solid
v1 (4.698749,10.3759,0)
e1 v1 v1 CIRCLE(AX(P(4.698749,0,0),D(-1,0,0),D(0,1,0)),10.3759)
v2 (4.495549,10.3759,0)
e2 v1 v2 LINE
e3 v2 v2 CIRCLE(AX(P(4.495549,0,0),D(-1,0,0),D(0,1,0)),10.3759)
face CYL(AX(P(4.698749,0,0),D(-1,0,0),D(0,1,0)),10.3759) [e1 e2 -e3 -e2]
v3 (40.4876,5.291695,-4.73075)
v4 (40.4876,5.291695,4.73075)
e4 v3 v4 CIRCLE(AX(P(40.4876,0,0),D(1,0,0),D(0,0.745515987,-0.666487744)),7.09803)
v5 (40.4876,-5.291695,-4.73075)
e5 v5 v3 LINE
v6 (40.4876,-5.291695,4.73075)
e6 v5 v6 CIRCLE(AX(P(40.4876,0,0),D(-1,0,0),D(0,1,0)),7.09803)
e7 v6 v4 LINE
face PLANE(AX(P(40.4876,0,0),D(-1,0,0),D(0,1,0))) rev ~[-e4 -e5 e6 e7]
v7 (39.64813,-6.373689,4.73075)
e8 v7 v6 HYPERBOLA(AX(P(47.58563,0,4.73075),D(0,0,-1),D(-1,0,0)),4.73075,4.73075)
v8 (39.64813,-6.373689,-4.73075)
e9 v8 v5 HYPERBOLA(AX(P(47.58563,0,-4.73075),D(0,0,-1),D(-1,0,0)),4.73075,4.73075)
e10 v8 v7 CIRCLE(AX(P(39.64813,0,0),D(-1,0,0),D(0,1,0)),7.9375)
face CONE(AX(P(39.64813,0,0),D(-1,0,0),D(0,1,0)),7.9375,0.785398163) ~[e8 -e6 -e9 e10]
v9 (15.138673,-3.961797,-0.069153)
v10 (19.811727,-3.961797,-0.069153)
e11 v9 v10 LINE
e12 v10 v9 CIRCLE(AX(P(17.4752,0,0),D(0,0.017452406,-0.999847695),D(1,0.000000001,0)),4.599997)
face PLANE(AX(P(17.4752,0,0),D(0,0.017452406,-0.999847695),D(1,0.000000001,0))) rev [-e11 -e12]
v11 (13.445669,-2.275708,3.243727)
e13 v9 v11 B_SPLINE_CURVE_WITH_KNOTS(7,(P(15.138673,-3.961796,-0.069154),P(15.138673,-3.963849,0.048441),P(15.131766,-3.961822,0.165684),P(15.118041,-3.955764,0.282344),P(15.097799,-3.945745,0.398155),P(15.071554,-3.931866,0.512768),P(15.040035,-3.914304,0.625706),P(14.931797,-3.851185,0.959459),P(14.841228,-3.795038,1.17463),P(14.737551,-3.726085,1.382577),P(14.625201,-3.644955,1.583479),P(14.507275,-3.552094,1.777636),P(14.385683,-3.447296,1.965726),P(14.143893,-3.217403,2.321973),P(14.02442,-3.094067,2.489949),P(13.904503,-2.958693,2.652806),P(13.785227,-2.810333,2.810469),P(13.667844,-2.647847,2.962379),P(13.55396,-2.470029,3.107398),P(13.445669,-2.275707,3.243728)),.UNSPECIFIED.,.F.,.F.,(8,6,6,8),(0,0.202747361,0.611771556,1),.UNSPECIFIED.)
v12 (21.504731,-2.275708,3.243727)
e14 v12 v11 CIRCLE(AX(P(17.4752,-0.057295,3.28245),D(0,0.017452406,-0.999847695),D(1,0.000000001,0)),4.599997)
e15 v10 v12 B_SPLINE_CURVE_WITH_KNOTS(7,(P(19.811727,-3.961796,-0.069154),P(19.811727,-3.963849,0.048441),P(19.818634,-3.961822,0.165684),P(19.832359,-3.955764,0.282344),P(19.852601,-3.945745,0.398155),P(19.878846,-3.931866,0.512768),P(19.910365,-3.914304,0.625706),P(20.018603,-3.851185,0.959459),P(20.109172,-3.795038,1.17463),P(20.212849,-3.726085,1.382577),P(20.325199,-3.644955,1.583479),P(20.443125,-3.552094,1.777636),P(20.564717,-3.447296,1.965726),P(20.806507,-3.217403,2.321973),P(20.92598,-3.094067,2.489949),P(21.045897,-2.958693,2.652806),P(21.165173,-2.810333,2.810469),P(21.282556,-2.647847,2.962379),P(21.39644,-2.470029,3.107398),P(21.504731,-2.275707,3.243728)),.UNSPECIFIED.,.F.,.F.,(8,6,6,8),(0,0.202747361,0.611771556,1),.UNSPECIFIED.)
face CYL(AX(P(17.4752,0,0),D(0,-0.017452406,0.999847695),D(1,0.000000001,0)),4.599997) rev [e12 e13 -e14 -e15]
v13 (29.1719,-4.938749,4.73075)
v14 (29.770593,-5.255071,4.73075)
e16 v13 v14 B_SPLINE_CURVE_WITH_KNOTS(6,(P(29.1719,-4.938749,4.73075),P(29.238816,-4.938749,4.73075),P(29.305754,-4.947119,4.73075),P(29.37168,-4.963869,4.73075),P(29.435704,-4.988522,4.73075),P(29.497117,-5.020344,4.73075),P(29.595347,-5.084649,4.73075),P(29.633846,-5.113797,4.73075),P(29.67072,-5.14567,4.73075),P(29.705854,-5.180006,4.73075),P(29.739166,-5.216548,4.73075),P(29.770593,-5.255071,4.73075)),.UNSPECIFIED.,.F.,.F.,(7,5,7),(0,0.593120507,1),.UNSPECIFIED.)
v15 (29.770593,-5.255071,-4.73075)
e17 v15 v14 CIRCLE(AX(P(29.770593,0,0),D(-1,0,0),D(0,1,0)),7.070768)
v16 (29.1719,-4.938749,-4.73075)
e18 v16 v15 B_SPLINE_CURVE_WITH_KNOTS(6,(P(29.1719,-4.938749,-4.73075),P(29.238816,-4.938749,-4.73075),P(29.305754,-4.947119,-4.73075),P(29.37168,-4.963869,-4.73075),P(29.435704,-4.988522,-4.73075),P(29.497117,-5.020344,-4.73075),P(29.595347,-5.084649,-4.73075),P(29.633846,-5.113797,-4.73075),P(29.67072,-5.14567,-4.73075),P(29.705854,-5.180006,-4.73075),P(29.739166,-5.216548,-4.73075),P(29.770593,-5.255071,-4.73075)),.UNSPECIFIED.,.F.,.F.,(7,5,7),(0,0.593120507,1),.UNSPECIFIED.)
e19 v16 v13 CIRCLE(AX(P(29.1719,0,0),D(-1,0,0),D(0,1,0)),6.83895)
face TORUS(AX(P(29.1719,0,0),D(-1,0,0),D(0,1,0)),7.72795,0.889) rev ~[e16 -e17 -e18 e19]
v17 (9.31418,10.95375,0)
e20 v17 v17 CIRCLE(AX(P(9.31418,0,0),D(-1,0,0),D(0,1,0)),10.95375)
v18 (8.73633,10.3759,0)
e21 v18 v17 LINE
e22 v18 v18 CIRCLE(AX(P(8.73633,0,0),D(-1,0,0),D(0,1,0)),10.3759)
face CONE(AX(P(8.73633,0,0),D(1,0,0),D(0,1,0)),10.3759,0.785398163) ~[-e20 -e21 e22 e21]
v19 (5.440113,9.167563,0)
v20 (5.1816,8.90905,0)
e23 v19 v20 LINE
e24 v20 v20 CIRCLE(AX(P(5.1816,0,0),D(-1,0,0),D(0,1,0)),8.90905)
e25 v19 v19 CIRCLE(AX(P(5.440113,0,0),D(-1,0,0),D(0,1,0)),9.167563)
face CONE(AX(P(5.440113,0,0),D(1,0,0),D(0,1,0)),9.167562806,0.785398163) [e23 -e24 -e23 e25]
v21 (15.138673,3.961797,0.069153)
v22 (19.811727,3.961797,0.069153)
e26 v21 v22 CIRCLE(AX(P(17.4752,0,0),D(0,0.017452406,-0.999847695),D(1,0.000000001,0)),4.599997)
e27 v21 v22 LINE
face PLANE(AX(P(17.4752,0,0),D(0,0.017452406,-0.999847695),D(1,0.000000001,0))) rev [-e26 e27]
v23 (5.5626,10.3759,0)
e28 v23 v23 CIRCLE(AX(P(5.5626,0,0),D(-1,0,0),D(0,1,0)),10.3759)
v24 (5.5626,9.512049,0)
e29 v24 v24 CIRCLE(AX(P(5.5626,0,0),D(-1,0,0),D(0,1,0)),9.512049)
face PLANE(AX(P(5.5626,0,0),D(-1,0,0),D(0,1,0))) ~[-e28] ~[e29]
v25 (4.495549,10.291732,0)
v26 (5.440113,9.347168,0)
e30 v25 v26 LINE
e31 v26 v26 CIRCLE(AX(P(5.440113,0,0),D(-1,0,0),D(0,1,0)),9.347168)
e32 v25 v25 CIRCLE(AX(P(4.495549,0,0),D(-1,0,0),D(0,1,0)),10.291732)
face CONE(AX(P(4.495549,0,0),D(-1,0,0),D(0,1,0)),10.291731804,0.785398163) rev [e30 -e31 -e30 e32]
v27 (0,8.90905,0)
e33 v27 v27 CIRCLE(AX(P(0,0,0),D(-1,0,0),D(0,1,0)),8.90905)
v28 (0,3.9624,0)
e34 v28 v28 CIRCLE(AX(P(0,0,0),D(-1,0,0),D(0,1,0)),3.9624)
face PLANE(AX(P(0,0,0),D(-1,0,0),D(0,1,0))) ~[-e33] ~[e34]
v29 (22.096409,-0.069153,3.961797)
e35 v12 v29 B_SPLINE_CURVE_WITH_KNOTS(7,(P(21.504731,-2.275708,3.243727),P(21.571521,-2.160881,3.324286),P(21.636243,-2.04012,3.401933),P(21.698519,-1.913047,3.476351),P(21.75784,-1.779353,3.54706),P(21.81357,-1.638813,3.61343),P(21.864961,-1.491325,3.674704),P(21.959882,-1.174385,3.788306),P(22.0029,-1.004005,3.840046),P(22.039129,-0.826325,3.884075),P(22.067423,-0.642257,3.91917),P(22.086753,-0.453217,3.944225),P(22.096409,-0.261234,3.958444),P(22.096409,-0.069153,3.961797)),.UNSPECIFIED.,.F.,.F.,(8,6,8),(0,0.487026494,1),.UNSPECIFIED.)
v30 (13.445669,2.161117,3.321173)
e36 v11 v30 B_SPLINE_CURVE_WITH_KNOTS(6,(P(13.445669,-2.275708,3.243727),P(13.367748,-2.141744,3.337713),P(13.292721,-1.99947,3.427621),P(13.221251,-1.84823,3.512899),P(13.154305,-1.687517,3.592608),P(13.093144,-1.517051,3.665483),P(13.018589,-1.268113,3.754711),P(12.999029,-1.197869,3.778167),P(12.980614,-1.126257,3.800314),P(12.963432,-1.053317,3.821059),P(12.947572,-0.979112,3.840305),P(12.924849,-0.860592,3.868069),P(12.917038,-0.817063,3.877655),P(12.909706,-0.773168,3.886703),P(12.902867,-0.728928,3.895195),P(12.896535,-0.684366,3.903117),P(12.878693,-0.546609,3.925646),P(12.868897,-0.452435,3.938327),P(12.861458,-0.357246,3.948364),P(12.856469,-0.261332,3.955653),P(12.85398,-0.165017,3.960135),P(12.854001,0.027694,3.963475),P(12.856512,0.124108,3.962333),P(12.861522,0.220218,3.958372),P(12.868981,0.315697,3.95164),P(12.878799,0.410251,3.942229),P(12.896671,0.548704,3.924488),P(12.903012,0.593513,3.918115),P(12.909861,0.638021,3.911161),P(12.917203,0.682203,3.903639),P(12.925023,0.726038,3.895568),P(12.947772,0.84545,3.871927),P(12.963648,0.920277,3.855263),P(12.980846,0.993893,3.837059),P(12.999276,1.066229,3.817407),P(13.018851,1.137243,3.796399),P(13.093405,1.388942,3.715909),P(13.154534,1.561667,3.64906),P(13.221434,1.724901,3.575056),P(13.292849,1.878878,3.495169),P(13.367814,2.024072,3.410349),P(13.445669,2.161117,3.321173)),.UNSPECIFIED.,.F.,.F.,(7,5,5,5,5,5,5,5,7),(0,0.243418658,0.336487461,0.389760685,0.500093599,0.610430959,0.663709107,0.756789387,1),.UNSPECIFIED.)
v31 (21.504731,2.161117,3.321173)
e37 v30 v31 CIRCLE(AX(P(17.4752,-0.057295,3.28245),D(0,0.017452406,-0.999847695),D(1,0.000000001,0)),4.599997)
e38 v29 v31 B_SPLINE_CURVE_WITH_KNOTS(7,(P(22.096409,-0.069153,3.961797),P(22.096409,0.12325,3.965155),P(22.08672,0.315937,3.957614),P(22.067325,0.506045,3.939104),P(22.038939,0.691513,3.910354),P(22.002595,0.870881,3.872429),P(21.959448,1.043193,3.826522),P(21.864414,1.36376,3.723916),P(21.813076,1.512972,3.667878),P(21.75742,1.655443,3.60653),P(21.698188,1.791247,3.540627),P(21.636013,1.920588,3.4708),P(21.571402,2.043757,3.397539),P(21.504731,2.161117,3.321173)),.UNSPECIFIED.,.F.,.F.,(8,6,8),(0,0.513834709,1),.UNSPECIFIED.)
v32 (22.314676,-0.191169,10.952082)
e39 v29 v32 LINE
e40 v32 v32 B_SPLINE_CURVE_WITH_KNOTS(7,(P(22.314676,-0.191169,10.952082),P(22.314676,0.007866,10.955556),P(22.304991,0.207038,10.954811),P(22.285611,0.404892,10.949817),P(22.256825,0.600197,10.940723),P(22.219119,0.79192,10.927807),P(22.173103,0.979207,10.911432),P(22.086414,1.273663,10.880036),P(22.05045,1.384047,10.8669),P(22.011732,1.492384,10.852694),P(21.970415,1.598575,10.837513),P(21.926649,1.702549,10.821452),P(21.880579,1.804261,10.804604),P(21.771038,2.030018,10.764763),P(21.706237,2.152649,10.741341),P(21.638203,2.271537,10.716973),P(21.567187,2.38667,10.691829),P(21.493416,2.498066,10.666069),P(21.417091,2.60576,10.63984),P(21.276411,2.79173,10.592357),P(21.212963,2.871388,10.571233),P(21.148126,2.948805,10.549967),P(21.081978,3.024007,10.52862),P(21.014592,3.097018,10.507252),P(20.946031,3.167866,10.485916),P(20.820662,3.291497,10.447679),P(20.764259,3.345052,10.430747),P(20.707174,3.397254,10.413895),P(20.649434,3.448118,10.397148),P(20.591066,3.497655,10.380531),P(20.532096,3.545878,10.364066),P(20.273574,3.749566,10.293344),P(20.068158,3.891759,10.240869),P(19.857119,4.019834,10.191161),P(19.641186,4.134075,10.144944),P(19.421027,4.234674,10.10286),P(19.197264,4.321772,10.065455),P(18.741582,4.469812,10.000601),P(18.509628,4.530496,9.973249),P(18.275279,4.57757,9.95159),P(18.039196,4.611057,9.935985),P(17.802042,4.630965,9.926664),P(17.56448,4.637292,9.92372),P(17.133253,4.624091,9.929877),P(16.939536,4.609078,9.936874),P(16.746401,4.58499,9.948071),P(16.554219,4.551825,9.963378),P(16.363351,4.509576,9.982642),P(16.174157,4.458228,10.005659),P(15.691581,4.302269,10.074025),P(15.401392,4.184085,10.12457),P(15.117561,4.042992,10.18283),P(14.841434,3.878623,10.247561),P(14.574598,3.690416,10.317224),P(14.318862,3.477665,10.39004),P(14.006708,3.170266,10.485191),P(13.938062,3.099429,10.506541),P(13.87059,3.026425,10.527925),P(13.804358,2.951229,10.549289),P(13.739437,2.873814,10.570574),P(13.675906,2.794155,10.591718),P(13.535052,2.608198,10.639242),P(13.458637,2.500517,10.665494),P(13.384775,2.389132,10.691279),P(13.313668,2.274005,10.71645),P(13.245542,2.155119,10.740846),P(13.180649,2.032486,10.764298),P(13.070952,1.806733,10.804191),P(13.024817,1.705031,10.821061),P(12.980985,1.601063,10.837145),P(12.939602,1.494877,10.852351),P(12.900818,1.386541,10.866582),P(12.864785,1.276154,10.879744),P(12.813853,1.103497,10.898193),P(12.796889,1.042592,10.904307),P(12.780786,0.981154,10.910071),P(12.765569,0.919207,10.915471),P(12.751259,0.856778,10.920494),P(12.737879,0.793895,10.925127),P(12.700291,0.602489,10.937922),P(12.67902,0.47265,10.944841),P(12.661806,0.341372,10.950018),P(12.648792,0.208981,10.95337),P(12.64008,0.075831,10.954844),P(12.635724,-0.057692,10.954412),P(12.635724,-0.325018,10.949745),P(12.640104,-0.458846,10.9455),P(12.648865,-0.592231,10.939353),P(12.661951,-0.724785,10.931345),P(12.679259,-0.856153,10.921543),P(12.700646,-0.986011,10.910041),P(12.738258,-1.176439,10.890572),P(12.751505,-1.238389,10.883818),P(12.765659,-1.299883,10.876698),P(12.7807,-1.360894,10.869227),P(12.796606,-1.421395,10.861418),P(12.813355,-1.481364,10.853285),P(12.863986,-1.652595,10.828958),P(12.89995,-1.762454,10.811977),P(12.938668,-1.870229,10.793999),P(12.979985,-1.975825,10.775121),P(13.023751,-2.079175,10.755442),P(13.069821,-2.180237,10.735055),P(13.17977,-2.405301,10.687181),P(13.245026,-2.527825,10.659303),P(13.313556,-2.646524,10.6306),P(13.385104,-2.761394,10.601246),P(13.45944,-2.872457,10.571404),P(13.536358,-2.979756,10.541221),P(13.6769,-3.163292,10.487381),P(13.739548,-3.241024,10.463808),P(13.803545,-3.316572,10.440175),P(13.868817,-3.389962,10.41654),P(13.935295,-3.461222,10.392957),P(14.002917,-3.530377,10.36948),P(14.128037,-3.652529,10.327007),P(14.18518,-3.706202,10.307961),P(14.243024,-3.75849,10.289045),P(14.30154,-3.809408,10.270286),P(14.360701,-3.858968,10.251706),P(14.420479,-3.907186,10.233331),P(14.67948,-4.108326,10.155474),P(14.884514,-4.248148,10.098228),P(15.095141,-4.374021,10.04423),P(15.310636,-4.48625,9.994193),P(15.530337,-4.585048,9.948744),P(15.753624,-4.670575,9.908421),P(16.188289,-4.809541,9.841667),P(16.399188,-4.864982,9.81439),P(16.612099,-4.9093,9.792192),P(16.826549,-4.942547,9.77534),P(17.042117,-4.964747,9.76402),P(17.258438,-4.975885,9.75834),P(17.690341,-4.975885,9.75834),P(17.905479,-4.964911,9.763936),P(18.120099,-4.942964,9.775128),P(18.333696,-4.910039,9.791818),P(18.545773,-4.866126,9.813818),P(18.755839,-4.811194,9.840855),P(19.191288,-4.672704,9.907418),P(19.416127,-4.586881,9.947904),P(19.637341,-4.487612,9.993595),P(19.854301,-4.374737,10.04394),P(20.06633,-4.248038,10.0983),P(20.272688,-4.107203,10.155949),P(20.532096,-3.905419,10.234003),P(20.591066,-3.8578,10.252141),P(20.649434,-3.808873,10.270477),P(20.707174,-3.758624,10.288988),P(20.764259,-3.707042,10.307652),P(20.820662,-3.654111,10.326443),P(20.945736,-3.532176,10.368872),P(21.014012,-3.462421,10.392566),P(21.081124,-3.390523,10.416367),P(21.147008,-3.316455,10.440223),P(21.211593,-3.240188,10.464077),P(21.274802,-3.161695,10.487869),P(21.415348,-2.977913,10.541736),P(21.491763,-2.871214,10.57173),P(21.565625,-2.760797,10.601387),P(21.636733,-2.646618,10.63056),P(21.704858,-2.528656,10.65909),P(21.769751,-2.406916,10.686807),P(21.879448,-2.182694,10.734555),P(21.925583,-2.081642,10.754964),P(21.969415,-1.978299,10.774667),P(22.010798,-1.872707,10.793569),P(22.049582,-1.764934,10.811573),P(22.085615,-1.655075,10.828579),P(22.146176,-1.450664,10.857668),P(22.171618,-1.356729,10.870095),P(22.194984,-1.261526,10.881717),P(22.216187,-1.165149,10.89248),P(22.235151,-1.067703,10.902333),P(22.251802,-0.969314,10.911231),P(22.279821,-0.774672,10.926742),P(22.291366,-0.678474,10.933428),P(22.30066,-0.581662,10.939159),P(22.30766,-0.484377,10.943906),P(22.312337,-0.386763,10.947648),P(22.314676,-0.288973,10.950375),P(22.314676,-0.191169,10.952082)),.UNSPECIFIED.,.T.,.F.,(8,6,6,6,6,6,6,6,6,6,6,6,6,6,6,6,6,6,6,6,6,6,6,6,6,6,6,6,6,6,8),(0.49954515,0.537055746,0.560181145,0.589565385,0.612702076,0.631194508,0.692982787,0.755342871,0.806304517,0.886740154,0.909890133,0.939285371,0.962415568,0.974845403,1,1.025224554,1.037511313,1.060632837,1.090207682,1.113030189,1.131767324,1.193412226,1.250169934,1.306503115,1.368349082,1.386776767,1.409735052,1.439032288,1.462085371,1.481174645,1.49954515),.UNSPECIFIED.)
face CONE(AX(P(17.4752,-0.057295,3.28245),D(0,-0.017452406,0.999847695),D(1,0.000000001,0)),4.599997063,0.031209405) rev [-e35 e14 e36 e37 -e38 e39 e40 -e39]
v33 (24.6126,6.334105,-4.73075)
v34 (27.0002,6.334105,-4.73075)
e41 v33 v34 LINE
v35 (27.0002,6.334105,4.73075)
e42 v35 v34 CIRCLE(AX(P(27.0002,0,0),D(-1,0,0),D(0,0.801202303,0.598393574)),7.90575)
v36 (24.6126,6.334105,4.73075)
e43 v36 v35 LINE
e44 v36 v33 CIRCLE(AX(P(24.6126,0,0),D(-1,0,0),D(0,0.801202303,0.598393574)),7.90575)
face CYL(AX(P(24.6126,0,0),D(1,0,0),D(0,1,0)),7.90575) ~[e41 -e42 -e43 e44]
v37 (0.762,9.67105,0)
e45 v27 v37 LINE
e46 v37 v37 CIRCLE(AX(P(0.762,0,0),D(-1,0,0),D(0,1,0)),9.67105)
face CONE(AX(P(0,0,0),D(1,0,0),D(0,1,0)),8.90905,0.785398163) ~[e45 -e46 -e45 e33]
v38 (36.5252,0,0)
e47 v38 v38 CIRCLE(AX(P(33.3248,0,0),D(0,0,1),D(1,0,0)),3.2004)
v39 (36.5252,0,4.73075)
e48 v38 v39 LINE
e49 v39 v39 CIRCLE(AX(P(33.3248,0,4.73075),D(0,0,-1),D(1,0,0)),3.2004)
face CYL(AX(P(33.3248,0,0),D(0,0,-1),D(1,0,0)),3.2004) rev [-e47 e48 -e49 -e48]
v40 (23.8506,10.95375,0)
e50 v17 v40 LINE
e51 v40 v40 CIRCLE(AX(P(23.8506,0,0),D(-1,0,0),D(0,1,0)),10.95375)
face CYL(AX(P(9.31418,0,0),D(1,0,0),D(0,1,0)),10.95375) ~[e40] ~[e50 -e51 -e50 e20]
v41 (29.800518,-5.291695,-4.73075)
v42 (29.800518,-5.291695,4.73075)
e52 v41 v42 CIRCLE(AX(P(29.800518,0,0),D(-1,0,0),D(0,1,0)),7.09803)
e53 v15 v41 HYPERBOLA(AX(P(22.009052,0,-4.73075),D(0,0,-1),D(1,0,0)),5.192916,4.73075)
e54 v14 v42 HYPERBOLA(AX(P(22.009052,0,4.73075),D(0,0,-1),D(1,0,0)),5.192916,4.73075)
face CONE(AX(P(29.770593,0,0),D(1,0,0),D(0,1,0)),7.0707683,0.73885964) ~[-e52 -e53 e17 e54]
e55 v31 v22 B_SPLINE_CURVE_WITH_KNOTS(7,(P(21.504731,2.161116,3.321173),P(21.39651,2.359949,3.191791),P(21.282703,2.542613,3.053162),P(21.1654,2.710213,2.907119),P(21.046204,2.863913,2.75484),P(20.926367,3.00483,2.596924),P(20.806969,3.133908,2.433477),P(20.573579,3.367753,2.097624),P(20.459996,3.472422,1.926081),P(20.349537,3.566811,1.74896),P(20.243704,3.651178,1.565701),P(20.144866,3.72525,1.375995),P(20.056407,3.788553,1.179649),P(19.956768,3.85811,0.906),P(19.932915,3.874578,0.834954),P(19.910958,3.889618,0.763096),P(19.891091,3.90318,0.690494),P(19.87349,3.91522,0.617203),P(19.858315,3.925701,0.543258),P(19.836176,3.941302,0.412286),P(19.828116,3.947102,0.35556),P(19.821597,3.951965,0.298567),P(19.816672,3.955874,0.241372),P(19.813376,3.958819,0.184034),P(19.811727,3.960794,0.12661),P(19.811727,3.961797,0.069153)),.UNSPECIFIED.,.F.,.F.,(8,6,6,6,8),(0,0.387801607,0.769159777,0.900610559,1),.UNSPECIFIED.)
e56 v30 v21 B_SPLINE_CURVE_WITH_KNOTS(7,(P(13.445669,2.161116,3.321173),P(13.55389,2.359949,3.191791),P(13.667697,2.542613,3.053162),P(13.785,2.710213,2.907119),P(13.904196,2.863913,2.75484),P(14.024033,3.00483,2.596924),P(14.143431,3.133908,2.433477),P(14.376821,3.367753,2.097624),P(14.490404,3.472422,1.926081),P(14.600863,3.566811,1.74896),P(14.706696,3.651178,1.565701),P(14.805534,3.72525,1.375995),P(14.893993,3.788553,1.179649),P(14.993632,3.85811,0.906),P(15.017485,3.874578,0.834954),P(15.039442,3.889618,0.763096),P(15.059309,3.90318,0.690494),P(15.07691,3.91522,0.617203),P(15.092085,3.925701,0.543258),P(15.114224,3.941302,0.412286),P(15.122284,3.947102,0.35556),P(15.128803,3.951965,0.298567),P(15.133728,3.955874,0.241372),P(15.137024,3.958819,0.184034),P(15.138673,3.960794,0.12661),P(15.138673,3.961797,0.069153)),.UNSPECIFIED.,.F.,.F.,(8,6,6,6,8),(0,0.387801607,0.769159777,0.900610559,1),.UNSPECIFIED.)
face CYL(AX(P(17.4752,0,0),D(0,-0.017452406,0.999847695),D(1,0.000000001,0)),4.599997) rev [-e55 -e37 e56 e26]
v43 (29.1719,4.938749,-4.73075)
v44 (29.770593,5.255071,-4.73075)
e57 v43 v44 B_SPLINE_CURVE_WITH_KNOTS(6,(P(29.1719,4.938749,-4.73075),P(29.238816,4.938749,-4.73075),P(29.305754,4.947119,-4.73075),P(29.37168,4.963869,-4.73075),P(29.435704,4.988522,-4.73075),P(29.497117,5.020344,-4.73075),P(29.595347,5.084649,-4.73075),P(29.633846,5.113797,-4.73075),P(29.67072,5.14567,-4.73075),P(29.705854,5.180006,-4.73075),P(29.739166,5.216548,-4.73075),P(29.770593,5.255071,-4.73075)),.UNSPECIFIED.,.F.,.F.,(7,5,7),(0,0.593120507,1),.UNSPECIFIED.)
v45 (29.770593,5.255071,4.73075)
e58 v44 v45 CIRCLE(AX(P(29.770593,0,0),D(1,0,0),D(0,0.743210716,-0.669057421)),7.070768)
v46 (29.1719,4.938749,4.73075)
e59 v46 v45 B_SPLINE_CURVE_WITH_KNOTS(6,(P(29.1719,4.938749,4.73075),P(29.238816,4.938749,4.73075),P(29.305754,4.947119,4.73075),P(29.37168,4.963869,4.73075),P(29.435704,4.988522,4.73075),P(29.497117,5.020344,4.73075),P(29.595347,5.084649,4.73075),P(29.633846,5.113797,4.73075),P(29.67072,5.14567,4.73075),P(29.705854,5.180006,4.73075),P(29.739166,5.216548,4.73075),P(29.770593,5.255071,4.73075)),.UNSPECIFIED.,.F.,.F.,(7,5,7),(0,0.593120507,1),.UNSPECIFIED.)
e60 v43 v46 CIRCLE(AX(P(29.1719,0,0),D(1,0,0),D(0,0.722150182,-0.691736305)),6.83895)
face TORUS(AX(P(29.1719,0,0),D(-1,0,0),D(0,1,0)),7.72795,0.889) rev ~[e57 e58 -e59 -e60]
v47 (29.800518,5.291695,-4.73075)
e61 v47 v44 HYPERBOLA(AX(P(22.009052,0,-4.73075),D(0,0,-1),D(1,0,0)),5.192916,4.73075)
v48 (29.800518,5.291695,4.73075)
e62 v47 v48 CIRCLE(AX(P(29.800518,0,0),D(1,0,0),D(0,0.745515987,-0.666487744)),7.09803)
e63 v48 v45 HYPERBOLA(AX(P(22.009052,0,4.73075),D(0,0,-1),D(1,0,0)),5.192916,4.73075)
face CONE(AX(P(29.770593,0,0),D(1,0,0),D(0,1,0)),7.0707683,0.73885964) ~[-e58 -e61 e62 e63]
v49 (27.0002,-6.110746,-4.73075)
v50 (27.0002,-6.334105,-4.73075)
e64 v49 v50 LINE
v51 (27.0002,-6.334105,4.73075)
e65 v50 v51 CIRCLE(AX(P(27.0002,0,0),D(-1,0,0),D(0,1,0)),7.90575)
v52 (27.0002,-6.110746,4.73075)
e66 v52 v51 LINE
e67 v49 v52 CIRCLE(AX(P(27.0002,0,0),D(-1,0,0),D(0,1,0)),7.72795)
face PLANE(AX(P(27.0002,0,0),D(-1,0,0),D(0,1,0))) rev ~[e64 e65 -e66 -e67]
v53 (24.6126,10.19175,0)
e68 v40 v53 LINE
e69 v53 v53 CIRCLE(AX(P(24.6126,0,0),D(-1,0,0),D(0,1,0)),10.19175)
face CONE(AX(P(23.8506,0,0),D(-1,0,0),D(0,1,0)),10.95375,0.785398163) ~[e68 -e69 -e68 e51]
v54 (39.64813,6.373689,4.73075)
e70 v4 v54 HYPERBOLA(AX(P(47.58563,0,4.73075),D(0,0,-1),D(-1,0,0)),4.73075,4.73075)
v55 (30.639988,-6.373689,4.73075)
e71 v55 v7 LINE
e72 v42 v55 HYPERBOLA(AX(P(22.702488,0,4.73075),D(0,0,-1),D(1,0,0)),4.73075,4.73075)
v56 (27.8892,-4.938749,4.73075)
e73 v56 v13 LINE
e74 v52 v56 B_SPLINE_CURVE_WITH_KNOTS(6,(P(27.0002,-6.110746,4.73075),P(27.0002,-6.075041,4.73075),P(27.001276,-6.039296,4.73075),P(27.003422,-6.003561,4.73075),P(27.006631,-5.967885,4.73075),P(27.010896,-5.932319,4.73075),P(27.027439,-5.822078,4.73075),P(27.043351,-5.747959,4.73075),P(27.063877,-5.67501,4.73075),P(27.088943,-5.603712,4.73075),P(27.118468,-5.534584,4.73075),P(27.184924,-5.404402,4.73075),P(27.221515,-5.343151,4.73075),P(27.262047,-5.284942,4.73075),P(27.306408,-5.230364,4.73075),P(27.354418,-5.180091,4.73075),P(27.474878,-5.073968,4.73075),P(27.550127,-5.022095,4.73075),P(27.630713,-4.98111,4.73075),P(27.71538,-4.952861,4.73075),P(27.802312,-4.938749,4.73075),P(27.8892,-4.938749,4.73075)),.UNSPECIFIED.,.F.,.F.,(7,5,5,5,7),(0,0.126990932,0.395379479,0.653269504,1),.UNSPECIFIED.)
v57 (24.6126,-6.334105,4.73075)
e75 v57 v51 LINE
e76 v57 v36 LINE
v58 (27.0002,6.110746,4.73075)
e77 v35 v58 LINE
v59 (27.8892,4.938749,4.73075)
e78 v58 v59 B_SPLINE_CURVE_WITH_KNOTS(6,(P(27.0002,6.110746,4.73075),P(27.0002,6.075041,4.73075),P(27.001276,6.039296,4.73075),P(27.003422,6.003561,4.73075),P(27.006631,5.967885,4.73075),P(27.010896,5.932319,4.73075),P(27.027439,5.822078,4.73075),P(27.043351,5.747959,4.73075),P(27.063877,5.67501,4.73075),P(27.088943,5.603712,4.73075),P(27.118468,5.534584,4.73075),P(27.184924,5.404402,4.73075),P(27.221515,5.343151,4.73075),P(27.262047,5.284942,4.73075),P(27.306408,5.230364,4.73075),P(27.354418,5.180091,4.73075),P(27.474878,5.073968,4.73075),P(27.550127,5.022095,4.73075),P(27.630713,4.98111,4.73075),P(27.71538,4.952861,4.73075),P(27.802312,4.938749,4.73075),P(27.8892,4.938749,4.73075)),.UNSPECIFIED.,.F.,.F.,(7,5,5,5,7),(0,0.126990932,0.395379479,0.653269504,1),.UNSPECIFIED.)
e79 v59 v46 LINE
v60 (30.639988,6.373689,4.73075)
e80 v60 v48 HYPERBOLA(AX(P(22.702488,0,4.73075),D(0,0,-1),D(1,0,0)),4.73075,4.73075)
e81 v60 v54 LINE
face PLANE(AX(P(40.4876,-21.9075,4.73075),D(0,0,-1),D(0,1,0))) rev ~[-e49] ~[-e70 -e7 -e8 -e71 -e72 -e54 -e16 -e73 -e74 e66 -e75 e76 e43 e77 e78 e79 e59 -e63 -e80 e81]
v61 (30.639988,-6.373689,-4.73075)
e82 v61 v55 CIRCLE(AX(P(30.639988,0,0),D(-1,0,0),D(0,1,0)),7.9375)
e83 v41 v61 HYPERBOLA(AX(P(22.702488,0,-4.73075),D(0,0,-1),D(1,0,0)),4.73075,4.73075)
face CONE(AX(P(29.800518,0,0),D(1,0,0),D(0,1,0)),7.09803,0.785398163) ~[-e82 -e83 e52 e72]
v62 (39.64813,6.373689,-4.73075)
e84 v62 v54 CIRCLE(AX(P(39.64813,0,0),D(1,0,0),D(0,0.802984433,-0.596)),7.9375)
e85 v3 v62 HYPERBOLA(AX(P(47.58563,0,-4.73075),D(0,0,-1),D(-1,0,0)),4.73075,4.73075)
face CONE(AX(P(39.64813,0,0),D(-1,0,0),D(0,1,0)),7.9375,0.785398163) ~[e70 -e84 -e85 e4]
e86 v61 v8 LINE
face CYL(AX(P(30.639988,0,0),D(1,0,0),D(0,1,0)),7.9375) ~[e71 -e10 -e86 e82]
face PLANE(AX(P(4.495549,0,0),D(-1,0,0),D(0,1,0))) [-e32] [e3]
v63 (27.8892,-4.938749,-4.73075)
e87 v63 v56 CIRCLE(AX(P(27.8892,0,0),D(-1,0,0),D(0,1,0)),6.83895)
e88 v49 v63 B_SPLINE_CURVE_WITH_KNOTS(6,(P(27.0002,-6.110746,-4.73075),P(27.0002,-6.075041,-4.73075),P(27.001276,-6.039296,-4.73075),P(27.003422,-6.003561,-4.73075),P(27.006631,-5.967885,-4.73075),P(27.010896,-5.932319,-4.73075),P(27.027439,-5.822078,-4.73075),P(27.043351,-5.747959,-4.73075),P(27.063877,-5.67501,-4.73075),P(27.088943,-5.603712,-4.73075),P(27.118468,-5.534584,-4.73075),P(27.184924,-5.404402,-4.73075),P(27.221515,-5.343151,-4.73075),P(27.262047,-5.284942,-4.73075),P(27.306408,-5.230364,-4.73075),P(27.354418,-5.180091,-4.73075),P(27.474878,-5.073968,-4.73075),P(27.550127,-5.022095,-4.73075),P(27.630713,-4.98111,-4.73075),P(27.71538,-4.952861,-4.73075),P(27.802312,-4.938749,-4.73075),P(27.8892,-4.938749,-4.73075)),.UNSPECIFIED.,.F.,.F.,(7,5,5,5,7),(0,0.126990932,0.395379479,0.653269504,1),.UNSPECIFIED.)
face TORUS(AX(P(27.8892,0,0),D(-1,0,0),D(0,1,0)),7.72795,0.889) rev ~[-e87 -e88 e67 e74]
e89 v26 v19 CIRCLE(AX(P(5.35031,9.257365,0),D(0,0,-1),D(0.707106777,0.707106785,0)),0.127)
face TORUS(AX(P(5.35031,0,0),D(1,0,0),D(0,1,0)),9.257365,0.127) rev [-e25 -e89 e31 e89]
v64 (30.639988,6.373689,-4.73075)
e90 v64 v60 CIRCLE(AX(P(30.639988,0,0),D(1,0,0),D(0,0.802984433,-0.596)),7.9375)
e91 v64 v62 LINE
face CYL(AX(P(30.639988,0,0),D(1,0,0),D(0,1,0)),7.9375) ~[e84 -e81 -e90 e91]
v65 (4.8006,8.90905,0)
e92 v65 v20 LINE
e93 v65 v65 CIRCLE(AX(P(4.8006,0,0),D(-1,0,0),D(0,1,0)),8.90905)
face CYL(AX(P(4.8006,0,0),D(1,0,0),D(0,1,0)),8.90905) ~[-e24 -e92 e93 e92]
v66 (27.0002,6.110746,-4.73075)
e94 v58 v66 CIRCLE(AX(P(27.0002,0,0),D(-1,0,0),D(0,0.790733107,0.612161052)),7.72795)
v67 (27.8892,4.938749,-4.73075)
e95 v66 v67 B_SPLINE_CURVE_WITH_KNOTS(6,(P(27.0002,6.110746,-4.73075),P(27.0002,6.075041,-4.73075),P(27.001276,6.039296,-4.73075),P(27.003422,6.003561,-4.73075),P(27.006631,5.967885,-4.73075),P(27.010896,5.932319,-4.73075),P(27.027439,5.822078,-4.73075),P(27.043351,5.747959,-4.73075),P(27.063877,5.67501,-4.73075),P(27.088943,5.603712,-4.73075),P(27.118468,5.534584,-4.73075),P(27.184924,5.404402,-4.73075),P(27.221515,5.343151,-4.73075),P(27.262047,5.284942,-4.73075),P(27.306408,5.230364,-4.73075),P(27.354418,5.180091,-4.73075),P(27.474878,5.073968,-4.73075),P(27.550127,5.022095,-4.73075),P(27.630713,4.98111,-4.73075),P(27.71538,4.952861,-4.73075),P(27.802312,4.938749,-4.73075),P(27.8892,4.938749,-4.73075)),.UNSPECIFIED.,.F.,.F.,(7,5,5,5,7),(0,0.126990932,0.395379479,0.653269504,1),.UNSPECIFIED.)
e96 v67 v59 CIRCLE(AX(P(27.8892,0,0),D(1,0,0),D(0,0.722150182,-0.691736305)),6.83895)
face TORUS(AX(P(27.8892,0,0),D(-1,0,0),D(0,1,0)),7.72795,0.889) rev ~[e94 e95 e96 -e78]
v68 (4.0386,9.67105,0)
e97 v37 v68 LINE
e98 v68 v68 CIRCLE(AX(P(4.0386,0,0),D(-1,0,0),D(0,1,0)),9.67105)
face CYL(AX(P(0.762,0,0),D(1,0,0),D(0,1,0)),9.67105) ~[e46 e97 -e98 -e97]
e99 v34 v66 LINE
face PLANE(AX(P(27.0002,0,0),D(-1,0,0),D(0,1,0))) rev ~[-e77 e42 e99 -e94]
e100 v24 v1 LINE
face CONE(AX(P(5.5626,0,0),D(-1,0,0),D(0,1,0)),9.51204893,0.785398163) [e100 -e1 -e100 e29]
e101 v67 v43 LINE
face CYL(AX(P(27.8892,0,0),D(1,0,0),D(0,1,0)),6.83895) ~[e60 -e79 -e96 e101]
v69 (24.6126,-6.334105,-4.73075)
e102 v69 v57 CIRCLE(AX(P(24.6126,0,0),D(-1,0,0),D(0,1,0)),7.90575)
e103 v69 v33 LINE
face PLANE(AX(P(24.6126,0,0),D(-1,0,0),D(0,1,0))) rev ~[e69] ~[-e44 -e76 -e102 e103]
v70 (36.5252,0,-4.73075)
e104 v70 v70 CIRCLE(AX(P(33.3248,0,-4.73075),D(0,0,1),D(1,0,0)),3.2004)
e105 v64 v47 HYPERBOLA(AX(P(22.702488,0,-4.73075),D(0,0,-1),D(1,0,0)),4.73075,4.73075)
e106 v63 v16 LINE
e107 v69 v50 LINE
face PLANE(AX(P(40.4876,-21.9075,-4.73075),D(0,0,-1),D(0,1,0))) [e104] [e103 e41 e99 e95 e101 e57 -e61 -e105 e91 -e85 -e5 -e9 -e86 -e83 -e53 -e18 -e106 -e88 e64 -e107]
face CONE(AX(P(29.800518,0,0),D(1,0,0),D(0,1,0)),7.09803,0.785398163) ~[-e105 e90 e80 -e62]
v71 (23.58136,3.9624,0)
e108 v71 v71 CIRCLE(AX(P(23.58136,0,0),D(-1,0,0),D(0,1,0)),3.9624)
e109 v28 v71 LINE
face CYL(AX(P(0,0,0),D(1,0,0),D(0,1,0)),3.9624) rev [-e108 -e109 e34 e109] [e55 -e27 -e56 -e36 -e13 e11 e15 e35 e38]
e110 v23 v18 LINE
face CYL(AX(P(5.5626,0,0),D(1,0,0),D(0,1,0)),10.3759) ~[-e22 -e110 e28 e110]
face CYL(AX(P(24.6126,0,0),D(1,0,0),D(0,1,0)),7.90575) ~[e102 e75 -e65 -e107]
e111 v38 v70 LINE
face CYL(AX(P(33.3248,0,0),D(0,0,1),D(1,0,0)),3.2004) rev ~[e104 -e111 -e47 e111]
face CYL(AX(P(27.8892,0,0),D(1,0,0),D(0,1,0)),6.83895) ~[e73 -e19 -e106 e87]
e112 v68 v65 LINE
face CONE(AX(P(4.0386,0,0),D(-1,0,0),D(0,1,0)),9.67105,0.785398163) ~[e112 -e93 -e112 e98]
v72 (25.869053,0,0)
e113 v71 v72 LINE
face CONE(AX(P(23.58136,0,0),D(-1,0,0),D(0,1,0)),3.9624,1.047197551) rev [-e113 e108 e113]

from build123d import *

# Parameters (mm, degrees)
SKETCH3_W               = 43.815
SKETCH3_H               = 87.63
SKETCH3_W_2             = 9.4615
SKETCH3_H_2             = 43.815
CUT_EXTRUDE1_DEPTH      = 15.875
SKETCH7_R               = 3.2004
CUT_EXTRUDE2_DEPTH      = 7.096125
CUT_EXTRUDE2_DEPTH_BACK = 7.096125


with BuildPart() as part:
    # Sketch1 → Revolve1 (revolve)
    with BuildSketch(Plane.XY):
        Polygon((0, 0), (0, 8.90905), (0.762, 9.67105), (4.0386, 9.67105), (4.8006, 8.90905), (5.5626, 8.90905), (5.5626, 10.3759), (8.73633, 10.3759), (9.31418, 10.95375), (23.8506, 10.95375), (24.6126, 10.19175), (24.6126, 0), align=None)
    revolve(axis=Axis((24.6126, 0, 0), (-1, 0, 0)))

    # Sketch2 → Revolve2 (revolve)
    with BuildSketch(Plane.XY):
        with BuildLine():
            Line((24.6126, 0), (24.6126, 7.90575))
            Line((24.6126, 7.90575), (27.0002, 7.90575))
            Line((27.0002, 7.90575), (27.0002, 7.72795))
            ThreePointArc((27.0002, 7.72795), (27.260582072, 7.099332072), (27.8892, 6.83895))
            Line((27.8892, 6.83895), (29.1719, 6.83895))
            ThreePointArc((29.1719, 6.83895), (29.49290348, 6.898927826), (29.77059292, 7.0707683))
            Line((29.77059292, 7.0707683), (29.800517928, 7.09803))
            Line((29.800517928, 7.09803), (30.639987928, 7.9375))
            Line((30.639987928, 7.9375), (39.64813, 7.9375))
            Line((39.64813, 7.9375), (40.4876, 7.09803))
            Line((40.4876, 7.09803), (40.4876, 0))
            Line((40.4876, 0), (24.6126, 0))
        make_face()
    revolve(axis=Axis((40.4876, 0, 0), (-1, 0, 0)))

    # Sketch3 → Cut-Extrude1 (cut)
    with BuildSketch(Plane(origin=(40.4876, 0, 0), x_dir=(0, 0, -1), z_dir=(1, 0, 0))):
        Rectangle(SKETCH3_W, SKETCH3_H)
        Rectangle(SKETCH3_W_2, SKETCH3_H_2, mode=Mode.SUBTRACT)
    extrude(amount=-CUT_EXTRUDE1_DEPTH, mode=Mode.SUBTRACT)

    # Sketch4 → Cut-Revolve1 (revolve, cut)
    with BuildSketch(Plane.XY):
        Polygon((0, 0), (0, 3.9624), (23.58136, 3.9624), (25.869052707, 0), align=None)
    revolve(axis=Axis((25.869052707, 0, 0), (-1, 0, 0)), mode=Mode.SUBTRACT)

    # Sketch5 → Cut-Revolve2 (revolve, cut)
    with BuildSketch(Plane(origin=(0, 0, 0), x_dir=(1, 0, 0), z_dir=(0, 0.999847695, 0.017452406))):
        Polygon((17.4752, 0), (22.075197063, 0), (22.075197063, -3.28295), (22.314675925, -10.95375), (17.4752, -10.95375), align=None)
    revolve(axis=Axis((17.4752, -0.191169297, 10.952081691), (0, 0.017452406, -0.999847695)), mode=Mode.SUBTRACT)

    # Sketch6 → Revolve3 (revolve)
    with BuildSketch(Plane.XY):
        with BuildLine():
            Line((4.49554893, 10.3759), (4.49554893, 10.291731804))
            Line((4.49554893, 10.291731804), (5.440112806, 9.347167928))
            ThreePointArc((5.440112806, 9.347167928), (5.477310245, 9.257365367), (5.440112806, 9.167562806))
            Line((5.440112806, 9.167562806), (5.1816, 8.90905))
            Line((5.1816, 8.90905), (4.8006, 8.90905))
            Line((4.8006, 8.90905), (4.8006, 8.65505))
            Line((4.8006, 8.65505), (5.5626, 8.65505))
            Line((5.5626, 8.65505), (5.5626, 9.51204893))
            Line((5.5626, 9.51204893), (4.69874893, 10.3759))
            Line((4.69874893, 10.3759), (4.49554893, 10.3759))
        make_face()
    revolve(axis=Axis((5.5626, 0, 0), (-1, 0, 0)))

    # Sketch7 → Cut-Extrude2 (cut, two sides)
    with BuildSketch(Plane.XY) as cut_extrude2_sk:
        with Locations((33.3248, 0)):
            Circle(SKETCH7_R)
    extrude(amount=CUT_EXTRUDE2_DEPTH, mode=Mode.SUBTRACT)
    extrude(cut_extrude2_sk.sketch, amount=-CUT_EXTRUDE2_DEPTH_BACK, mode=Mode.SUBTRACT)


solid = part.part
